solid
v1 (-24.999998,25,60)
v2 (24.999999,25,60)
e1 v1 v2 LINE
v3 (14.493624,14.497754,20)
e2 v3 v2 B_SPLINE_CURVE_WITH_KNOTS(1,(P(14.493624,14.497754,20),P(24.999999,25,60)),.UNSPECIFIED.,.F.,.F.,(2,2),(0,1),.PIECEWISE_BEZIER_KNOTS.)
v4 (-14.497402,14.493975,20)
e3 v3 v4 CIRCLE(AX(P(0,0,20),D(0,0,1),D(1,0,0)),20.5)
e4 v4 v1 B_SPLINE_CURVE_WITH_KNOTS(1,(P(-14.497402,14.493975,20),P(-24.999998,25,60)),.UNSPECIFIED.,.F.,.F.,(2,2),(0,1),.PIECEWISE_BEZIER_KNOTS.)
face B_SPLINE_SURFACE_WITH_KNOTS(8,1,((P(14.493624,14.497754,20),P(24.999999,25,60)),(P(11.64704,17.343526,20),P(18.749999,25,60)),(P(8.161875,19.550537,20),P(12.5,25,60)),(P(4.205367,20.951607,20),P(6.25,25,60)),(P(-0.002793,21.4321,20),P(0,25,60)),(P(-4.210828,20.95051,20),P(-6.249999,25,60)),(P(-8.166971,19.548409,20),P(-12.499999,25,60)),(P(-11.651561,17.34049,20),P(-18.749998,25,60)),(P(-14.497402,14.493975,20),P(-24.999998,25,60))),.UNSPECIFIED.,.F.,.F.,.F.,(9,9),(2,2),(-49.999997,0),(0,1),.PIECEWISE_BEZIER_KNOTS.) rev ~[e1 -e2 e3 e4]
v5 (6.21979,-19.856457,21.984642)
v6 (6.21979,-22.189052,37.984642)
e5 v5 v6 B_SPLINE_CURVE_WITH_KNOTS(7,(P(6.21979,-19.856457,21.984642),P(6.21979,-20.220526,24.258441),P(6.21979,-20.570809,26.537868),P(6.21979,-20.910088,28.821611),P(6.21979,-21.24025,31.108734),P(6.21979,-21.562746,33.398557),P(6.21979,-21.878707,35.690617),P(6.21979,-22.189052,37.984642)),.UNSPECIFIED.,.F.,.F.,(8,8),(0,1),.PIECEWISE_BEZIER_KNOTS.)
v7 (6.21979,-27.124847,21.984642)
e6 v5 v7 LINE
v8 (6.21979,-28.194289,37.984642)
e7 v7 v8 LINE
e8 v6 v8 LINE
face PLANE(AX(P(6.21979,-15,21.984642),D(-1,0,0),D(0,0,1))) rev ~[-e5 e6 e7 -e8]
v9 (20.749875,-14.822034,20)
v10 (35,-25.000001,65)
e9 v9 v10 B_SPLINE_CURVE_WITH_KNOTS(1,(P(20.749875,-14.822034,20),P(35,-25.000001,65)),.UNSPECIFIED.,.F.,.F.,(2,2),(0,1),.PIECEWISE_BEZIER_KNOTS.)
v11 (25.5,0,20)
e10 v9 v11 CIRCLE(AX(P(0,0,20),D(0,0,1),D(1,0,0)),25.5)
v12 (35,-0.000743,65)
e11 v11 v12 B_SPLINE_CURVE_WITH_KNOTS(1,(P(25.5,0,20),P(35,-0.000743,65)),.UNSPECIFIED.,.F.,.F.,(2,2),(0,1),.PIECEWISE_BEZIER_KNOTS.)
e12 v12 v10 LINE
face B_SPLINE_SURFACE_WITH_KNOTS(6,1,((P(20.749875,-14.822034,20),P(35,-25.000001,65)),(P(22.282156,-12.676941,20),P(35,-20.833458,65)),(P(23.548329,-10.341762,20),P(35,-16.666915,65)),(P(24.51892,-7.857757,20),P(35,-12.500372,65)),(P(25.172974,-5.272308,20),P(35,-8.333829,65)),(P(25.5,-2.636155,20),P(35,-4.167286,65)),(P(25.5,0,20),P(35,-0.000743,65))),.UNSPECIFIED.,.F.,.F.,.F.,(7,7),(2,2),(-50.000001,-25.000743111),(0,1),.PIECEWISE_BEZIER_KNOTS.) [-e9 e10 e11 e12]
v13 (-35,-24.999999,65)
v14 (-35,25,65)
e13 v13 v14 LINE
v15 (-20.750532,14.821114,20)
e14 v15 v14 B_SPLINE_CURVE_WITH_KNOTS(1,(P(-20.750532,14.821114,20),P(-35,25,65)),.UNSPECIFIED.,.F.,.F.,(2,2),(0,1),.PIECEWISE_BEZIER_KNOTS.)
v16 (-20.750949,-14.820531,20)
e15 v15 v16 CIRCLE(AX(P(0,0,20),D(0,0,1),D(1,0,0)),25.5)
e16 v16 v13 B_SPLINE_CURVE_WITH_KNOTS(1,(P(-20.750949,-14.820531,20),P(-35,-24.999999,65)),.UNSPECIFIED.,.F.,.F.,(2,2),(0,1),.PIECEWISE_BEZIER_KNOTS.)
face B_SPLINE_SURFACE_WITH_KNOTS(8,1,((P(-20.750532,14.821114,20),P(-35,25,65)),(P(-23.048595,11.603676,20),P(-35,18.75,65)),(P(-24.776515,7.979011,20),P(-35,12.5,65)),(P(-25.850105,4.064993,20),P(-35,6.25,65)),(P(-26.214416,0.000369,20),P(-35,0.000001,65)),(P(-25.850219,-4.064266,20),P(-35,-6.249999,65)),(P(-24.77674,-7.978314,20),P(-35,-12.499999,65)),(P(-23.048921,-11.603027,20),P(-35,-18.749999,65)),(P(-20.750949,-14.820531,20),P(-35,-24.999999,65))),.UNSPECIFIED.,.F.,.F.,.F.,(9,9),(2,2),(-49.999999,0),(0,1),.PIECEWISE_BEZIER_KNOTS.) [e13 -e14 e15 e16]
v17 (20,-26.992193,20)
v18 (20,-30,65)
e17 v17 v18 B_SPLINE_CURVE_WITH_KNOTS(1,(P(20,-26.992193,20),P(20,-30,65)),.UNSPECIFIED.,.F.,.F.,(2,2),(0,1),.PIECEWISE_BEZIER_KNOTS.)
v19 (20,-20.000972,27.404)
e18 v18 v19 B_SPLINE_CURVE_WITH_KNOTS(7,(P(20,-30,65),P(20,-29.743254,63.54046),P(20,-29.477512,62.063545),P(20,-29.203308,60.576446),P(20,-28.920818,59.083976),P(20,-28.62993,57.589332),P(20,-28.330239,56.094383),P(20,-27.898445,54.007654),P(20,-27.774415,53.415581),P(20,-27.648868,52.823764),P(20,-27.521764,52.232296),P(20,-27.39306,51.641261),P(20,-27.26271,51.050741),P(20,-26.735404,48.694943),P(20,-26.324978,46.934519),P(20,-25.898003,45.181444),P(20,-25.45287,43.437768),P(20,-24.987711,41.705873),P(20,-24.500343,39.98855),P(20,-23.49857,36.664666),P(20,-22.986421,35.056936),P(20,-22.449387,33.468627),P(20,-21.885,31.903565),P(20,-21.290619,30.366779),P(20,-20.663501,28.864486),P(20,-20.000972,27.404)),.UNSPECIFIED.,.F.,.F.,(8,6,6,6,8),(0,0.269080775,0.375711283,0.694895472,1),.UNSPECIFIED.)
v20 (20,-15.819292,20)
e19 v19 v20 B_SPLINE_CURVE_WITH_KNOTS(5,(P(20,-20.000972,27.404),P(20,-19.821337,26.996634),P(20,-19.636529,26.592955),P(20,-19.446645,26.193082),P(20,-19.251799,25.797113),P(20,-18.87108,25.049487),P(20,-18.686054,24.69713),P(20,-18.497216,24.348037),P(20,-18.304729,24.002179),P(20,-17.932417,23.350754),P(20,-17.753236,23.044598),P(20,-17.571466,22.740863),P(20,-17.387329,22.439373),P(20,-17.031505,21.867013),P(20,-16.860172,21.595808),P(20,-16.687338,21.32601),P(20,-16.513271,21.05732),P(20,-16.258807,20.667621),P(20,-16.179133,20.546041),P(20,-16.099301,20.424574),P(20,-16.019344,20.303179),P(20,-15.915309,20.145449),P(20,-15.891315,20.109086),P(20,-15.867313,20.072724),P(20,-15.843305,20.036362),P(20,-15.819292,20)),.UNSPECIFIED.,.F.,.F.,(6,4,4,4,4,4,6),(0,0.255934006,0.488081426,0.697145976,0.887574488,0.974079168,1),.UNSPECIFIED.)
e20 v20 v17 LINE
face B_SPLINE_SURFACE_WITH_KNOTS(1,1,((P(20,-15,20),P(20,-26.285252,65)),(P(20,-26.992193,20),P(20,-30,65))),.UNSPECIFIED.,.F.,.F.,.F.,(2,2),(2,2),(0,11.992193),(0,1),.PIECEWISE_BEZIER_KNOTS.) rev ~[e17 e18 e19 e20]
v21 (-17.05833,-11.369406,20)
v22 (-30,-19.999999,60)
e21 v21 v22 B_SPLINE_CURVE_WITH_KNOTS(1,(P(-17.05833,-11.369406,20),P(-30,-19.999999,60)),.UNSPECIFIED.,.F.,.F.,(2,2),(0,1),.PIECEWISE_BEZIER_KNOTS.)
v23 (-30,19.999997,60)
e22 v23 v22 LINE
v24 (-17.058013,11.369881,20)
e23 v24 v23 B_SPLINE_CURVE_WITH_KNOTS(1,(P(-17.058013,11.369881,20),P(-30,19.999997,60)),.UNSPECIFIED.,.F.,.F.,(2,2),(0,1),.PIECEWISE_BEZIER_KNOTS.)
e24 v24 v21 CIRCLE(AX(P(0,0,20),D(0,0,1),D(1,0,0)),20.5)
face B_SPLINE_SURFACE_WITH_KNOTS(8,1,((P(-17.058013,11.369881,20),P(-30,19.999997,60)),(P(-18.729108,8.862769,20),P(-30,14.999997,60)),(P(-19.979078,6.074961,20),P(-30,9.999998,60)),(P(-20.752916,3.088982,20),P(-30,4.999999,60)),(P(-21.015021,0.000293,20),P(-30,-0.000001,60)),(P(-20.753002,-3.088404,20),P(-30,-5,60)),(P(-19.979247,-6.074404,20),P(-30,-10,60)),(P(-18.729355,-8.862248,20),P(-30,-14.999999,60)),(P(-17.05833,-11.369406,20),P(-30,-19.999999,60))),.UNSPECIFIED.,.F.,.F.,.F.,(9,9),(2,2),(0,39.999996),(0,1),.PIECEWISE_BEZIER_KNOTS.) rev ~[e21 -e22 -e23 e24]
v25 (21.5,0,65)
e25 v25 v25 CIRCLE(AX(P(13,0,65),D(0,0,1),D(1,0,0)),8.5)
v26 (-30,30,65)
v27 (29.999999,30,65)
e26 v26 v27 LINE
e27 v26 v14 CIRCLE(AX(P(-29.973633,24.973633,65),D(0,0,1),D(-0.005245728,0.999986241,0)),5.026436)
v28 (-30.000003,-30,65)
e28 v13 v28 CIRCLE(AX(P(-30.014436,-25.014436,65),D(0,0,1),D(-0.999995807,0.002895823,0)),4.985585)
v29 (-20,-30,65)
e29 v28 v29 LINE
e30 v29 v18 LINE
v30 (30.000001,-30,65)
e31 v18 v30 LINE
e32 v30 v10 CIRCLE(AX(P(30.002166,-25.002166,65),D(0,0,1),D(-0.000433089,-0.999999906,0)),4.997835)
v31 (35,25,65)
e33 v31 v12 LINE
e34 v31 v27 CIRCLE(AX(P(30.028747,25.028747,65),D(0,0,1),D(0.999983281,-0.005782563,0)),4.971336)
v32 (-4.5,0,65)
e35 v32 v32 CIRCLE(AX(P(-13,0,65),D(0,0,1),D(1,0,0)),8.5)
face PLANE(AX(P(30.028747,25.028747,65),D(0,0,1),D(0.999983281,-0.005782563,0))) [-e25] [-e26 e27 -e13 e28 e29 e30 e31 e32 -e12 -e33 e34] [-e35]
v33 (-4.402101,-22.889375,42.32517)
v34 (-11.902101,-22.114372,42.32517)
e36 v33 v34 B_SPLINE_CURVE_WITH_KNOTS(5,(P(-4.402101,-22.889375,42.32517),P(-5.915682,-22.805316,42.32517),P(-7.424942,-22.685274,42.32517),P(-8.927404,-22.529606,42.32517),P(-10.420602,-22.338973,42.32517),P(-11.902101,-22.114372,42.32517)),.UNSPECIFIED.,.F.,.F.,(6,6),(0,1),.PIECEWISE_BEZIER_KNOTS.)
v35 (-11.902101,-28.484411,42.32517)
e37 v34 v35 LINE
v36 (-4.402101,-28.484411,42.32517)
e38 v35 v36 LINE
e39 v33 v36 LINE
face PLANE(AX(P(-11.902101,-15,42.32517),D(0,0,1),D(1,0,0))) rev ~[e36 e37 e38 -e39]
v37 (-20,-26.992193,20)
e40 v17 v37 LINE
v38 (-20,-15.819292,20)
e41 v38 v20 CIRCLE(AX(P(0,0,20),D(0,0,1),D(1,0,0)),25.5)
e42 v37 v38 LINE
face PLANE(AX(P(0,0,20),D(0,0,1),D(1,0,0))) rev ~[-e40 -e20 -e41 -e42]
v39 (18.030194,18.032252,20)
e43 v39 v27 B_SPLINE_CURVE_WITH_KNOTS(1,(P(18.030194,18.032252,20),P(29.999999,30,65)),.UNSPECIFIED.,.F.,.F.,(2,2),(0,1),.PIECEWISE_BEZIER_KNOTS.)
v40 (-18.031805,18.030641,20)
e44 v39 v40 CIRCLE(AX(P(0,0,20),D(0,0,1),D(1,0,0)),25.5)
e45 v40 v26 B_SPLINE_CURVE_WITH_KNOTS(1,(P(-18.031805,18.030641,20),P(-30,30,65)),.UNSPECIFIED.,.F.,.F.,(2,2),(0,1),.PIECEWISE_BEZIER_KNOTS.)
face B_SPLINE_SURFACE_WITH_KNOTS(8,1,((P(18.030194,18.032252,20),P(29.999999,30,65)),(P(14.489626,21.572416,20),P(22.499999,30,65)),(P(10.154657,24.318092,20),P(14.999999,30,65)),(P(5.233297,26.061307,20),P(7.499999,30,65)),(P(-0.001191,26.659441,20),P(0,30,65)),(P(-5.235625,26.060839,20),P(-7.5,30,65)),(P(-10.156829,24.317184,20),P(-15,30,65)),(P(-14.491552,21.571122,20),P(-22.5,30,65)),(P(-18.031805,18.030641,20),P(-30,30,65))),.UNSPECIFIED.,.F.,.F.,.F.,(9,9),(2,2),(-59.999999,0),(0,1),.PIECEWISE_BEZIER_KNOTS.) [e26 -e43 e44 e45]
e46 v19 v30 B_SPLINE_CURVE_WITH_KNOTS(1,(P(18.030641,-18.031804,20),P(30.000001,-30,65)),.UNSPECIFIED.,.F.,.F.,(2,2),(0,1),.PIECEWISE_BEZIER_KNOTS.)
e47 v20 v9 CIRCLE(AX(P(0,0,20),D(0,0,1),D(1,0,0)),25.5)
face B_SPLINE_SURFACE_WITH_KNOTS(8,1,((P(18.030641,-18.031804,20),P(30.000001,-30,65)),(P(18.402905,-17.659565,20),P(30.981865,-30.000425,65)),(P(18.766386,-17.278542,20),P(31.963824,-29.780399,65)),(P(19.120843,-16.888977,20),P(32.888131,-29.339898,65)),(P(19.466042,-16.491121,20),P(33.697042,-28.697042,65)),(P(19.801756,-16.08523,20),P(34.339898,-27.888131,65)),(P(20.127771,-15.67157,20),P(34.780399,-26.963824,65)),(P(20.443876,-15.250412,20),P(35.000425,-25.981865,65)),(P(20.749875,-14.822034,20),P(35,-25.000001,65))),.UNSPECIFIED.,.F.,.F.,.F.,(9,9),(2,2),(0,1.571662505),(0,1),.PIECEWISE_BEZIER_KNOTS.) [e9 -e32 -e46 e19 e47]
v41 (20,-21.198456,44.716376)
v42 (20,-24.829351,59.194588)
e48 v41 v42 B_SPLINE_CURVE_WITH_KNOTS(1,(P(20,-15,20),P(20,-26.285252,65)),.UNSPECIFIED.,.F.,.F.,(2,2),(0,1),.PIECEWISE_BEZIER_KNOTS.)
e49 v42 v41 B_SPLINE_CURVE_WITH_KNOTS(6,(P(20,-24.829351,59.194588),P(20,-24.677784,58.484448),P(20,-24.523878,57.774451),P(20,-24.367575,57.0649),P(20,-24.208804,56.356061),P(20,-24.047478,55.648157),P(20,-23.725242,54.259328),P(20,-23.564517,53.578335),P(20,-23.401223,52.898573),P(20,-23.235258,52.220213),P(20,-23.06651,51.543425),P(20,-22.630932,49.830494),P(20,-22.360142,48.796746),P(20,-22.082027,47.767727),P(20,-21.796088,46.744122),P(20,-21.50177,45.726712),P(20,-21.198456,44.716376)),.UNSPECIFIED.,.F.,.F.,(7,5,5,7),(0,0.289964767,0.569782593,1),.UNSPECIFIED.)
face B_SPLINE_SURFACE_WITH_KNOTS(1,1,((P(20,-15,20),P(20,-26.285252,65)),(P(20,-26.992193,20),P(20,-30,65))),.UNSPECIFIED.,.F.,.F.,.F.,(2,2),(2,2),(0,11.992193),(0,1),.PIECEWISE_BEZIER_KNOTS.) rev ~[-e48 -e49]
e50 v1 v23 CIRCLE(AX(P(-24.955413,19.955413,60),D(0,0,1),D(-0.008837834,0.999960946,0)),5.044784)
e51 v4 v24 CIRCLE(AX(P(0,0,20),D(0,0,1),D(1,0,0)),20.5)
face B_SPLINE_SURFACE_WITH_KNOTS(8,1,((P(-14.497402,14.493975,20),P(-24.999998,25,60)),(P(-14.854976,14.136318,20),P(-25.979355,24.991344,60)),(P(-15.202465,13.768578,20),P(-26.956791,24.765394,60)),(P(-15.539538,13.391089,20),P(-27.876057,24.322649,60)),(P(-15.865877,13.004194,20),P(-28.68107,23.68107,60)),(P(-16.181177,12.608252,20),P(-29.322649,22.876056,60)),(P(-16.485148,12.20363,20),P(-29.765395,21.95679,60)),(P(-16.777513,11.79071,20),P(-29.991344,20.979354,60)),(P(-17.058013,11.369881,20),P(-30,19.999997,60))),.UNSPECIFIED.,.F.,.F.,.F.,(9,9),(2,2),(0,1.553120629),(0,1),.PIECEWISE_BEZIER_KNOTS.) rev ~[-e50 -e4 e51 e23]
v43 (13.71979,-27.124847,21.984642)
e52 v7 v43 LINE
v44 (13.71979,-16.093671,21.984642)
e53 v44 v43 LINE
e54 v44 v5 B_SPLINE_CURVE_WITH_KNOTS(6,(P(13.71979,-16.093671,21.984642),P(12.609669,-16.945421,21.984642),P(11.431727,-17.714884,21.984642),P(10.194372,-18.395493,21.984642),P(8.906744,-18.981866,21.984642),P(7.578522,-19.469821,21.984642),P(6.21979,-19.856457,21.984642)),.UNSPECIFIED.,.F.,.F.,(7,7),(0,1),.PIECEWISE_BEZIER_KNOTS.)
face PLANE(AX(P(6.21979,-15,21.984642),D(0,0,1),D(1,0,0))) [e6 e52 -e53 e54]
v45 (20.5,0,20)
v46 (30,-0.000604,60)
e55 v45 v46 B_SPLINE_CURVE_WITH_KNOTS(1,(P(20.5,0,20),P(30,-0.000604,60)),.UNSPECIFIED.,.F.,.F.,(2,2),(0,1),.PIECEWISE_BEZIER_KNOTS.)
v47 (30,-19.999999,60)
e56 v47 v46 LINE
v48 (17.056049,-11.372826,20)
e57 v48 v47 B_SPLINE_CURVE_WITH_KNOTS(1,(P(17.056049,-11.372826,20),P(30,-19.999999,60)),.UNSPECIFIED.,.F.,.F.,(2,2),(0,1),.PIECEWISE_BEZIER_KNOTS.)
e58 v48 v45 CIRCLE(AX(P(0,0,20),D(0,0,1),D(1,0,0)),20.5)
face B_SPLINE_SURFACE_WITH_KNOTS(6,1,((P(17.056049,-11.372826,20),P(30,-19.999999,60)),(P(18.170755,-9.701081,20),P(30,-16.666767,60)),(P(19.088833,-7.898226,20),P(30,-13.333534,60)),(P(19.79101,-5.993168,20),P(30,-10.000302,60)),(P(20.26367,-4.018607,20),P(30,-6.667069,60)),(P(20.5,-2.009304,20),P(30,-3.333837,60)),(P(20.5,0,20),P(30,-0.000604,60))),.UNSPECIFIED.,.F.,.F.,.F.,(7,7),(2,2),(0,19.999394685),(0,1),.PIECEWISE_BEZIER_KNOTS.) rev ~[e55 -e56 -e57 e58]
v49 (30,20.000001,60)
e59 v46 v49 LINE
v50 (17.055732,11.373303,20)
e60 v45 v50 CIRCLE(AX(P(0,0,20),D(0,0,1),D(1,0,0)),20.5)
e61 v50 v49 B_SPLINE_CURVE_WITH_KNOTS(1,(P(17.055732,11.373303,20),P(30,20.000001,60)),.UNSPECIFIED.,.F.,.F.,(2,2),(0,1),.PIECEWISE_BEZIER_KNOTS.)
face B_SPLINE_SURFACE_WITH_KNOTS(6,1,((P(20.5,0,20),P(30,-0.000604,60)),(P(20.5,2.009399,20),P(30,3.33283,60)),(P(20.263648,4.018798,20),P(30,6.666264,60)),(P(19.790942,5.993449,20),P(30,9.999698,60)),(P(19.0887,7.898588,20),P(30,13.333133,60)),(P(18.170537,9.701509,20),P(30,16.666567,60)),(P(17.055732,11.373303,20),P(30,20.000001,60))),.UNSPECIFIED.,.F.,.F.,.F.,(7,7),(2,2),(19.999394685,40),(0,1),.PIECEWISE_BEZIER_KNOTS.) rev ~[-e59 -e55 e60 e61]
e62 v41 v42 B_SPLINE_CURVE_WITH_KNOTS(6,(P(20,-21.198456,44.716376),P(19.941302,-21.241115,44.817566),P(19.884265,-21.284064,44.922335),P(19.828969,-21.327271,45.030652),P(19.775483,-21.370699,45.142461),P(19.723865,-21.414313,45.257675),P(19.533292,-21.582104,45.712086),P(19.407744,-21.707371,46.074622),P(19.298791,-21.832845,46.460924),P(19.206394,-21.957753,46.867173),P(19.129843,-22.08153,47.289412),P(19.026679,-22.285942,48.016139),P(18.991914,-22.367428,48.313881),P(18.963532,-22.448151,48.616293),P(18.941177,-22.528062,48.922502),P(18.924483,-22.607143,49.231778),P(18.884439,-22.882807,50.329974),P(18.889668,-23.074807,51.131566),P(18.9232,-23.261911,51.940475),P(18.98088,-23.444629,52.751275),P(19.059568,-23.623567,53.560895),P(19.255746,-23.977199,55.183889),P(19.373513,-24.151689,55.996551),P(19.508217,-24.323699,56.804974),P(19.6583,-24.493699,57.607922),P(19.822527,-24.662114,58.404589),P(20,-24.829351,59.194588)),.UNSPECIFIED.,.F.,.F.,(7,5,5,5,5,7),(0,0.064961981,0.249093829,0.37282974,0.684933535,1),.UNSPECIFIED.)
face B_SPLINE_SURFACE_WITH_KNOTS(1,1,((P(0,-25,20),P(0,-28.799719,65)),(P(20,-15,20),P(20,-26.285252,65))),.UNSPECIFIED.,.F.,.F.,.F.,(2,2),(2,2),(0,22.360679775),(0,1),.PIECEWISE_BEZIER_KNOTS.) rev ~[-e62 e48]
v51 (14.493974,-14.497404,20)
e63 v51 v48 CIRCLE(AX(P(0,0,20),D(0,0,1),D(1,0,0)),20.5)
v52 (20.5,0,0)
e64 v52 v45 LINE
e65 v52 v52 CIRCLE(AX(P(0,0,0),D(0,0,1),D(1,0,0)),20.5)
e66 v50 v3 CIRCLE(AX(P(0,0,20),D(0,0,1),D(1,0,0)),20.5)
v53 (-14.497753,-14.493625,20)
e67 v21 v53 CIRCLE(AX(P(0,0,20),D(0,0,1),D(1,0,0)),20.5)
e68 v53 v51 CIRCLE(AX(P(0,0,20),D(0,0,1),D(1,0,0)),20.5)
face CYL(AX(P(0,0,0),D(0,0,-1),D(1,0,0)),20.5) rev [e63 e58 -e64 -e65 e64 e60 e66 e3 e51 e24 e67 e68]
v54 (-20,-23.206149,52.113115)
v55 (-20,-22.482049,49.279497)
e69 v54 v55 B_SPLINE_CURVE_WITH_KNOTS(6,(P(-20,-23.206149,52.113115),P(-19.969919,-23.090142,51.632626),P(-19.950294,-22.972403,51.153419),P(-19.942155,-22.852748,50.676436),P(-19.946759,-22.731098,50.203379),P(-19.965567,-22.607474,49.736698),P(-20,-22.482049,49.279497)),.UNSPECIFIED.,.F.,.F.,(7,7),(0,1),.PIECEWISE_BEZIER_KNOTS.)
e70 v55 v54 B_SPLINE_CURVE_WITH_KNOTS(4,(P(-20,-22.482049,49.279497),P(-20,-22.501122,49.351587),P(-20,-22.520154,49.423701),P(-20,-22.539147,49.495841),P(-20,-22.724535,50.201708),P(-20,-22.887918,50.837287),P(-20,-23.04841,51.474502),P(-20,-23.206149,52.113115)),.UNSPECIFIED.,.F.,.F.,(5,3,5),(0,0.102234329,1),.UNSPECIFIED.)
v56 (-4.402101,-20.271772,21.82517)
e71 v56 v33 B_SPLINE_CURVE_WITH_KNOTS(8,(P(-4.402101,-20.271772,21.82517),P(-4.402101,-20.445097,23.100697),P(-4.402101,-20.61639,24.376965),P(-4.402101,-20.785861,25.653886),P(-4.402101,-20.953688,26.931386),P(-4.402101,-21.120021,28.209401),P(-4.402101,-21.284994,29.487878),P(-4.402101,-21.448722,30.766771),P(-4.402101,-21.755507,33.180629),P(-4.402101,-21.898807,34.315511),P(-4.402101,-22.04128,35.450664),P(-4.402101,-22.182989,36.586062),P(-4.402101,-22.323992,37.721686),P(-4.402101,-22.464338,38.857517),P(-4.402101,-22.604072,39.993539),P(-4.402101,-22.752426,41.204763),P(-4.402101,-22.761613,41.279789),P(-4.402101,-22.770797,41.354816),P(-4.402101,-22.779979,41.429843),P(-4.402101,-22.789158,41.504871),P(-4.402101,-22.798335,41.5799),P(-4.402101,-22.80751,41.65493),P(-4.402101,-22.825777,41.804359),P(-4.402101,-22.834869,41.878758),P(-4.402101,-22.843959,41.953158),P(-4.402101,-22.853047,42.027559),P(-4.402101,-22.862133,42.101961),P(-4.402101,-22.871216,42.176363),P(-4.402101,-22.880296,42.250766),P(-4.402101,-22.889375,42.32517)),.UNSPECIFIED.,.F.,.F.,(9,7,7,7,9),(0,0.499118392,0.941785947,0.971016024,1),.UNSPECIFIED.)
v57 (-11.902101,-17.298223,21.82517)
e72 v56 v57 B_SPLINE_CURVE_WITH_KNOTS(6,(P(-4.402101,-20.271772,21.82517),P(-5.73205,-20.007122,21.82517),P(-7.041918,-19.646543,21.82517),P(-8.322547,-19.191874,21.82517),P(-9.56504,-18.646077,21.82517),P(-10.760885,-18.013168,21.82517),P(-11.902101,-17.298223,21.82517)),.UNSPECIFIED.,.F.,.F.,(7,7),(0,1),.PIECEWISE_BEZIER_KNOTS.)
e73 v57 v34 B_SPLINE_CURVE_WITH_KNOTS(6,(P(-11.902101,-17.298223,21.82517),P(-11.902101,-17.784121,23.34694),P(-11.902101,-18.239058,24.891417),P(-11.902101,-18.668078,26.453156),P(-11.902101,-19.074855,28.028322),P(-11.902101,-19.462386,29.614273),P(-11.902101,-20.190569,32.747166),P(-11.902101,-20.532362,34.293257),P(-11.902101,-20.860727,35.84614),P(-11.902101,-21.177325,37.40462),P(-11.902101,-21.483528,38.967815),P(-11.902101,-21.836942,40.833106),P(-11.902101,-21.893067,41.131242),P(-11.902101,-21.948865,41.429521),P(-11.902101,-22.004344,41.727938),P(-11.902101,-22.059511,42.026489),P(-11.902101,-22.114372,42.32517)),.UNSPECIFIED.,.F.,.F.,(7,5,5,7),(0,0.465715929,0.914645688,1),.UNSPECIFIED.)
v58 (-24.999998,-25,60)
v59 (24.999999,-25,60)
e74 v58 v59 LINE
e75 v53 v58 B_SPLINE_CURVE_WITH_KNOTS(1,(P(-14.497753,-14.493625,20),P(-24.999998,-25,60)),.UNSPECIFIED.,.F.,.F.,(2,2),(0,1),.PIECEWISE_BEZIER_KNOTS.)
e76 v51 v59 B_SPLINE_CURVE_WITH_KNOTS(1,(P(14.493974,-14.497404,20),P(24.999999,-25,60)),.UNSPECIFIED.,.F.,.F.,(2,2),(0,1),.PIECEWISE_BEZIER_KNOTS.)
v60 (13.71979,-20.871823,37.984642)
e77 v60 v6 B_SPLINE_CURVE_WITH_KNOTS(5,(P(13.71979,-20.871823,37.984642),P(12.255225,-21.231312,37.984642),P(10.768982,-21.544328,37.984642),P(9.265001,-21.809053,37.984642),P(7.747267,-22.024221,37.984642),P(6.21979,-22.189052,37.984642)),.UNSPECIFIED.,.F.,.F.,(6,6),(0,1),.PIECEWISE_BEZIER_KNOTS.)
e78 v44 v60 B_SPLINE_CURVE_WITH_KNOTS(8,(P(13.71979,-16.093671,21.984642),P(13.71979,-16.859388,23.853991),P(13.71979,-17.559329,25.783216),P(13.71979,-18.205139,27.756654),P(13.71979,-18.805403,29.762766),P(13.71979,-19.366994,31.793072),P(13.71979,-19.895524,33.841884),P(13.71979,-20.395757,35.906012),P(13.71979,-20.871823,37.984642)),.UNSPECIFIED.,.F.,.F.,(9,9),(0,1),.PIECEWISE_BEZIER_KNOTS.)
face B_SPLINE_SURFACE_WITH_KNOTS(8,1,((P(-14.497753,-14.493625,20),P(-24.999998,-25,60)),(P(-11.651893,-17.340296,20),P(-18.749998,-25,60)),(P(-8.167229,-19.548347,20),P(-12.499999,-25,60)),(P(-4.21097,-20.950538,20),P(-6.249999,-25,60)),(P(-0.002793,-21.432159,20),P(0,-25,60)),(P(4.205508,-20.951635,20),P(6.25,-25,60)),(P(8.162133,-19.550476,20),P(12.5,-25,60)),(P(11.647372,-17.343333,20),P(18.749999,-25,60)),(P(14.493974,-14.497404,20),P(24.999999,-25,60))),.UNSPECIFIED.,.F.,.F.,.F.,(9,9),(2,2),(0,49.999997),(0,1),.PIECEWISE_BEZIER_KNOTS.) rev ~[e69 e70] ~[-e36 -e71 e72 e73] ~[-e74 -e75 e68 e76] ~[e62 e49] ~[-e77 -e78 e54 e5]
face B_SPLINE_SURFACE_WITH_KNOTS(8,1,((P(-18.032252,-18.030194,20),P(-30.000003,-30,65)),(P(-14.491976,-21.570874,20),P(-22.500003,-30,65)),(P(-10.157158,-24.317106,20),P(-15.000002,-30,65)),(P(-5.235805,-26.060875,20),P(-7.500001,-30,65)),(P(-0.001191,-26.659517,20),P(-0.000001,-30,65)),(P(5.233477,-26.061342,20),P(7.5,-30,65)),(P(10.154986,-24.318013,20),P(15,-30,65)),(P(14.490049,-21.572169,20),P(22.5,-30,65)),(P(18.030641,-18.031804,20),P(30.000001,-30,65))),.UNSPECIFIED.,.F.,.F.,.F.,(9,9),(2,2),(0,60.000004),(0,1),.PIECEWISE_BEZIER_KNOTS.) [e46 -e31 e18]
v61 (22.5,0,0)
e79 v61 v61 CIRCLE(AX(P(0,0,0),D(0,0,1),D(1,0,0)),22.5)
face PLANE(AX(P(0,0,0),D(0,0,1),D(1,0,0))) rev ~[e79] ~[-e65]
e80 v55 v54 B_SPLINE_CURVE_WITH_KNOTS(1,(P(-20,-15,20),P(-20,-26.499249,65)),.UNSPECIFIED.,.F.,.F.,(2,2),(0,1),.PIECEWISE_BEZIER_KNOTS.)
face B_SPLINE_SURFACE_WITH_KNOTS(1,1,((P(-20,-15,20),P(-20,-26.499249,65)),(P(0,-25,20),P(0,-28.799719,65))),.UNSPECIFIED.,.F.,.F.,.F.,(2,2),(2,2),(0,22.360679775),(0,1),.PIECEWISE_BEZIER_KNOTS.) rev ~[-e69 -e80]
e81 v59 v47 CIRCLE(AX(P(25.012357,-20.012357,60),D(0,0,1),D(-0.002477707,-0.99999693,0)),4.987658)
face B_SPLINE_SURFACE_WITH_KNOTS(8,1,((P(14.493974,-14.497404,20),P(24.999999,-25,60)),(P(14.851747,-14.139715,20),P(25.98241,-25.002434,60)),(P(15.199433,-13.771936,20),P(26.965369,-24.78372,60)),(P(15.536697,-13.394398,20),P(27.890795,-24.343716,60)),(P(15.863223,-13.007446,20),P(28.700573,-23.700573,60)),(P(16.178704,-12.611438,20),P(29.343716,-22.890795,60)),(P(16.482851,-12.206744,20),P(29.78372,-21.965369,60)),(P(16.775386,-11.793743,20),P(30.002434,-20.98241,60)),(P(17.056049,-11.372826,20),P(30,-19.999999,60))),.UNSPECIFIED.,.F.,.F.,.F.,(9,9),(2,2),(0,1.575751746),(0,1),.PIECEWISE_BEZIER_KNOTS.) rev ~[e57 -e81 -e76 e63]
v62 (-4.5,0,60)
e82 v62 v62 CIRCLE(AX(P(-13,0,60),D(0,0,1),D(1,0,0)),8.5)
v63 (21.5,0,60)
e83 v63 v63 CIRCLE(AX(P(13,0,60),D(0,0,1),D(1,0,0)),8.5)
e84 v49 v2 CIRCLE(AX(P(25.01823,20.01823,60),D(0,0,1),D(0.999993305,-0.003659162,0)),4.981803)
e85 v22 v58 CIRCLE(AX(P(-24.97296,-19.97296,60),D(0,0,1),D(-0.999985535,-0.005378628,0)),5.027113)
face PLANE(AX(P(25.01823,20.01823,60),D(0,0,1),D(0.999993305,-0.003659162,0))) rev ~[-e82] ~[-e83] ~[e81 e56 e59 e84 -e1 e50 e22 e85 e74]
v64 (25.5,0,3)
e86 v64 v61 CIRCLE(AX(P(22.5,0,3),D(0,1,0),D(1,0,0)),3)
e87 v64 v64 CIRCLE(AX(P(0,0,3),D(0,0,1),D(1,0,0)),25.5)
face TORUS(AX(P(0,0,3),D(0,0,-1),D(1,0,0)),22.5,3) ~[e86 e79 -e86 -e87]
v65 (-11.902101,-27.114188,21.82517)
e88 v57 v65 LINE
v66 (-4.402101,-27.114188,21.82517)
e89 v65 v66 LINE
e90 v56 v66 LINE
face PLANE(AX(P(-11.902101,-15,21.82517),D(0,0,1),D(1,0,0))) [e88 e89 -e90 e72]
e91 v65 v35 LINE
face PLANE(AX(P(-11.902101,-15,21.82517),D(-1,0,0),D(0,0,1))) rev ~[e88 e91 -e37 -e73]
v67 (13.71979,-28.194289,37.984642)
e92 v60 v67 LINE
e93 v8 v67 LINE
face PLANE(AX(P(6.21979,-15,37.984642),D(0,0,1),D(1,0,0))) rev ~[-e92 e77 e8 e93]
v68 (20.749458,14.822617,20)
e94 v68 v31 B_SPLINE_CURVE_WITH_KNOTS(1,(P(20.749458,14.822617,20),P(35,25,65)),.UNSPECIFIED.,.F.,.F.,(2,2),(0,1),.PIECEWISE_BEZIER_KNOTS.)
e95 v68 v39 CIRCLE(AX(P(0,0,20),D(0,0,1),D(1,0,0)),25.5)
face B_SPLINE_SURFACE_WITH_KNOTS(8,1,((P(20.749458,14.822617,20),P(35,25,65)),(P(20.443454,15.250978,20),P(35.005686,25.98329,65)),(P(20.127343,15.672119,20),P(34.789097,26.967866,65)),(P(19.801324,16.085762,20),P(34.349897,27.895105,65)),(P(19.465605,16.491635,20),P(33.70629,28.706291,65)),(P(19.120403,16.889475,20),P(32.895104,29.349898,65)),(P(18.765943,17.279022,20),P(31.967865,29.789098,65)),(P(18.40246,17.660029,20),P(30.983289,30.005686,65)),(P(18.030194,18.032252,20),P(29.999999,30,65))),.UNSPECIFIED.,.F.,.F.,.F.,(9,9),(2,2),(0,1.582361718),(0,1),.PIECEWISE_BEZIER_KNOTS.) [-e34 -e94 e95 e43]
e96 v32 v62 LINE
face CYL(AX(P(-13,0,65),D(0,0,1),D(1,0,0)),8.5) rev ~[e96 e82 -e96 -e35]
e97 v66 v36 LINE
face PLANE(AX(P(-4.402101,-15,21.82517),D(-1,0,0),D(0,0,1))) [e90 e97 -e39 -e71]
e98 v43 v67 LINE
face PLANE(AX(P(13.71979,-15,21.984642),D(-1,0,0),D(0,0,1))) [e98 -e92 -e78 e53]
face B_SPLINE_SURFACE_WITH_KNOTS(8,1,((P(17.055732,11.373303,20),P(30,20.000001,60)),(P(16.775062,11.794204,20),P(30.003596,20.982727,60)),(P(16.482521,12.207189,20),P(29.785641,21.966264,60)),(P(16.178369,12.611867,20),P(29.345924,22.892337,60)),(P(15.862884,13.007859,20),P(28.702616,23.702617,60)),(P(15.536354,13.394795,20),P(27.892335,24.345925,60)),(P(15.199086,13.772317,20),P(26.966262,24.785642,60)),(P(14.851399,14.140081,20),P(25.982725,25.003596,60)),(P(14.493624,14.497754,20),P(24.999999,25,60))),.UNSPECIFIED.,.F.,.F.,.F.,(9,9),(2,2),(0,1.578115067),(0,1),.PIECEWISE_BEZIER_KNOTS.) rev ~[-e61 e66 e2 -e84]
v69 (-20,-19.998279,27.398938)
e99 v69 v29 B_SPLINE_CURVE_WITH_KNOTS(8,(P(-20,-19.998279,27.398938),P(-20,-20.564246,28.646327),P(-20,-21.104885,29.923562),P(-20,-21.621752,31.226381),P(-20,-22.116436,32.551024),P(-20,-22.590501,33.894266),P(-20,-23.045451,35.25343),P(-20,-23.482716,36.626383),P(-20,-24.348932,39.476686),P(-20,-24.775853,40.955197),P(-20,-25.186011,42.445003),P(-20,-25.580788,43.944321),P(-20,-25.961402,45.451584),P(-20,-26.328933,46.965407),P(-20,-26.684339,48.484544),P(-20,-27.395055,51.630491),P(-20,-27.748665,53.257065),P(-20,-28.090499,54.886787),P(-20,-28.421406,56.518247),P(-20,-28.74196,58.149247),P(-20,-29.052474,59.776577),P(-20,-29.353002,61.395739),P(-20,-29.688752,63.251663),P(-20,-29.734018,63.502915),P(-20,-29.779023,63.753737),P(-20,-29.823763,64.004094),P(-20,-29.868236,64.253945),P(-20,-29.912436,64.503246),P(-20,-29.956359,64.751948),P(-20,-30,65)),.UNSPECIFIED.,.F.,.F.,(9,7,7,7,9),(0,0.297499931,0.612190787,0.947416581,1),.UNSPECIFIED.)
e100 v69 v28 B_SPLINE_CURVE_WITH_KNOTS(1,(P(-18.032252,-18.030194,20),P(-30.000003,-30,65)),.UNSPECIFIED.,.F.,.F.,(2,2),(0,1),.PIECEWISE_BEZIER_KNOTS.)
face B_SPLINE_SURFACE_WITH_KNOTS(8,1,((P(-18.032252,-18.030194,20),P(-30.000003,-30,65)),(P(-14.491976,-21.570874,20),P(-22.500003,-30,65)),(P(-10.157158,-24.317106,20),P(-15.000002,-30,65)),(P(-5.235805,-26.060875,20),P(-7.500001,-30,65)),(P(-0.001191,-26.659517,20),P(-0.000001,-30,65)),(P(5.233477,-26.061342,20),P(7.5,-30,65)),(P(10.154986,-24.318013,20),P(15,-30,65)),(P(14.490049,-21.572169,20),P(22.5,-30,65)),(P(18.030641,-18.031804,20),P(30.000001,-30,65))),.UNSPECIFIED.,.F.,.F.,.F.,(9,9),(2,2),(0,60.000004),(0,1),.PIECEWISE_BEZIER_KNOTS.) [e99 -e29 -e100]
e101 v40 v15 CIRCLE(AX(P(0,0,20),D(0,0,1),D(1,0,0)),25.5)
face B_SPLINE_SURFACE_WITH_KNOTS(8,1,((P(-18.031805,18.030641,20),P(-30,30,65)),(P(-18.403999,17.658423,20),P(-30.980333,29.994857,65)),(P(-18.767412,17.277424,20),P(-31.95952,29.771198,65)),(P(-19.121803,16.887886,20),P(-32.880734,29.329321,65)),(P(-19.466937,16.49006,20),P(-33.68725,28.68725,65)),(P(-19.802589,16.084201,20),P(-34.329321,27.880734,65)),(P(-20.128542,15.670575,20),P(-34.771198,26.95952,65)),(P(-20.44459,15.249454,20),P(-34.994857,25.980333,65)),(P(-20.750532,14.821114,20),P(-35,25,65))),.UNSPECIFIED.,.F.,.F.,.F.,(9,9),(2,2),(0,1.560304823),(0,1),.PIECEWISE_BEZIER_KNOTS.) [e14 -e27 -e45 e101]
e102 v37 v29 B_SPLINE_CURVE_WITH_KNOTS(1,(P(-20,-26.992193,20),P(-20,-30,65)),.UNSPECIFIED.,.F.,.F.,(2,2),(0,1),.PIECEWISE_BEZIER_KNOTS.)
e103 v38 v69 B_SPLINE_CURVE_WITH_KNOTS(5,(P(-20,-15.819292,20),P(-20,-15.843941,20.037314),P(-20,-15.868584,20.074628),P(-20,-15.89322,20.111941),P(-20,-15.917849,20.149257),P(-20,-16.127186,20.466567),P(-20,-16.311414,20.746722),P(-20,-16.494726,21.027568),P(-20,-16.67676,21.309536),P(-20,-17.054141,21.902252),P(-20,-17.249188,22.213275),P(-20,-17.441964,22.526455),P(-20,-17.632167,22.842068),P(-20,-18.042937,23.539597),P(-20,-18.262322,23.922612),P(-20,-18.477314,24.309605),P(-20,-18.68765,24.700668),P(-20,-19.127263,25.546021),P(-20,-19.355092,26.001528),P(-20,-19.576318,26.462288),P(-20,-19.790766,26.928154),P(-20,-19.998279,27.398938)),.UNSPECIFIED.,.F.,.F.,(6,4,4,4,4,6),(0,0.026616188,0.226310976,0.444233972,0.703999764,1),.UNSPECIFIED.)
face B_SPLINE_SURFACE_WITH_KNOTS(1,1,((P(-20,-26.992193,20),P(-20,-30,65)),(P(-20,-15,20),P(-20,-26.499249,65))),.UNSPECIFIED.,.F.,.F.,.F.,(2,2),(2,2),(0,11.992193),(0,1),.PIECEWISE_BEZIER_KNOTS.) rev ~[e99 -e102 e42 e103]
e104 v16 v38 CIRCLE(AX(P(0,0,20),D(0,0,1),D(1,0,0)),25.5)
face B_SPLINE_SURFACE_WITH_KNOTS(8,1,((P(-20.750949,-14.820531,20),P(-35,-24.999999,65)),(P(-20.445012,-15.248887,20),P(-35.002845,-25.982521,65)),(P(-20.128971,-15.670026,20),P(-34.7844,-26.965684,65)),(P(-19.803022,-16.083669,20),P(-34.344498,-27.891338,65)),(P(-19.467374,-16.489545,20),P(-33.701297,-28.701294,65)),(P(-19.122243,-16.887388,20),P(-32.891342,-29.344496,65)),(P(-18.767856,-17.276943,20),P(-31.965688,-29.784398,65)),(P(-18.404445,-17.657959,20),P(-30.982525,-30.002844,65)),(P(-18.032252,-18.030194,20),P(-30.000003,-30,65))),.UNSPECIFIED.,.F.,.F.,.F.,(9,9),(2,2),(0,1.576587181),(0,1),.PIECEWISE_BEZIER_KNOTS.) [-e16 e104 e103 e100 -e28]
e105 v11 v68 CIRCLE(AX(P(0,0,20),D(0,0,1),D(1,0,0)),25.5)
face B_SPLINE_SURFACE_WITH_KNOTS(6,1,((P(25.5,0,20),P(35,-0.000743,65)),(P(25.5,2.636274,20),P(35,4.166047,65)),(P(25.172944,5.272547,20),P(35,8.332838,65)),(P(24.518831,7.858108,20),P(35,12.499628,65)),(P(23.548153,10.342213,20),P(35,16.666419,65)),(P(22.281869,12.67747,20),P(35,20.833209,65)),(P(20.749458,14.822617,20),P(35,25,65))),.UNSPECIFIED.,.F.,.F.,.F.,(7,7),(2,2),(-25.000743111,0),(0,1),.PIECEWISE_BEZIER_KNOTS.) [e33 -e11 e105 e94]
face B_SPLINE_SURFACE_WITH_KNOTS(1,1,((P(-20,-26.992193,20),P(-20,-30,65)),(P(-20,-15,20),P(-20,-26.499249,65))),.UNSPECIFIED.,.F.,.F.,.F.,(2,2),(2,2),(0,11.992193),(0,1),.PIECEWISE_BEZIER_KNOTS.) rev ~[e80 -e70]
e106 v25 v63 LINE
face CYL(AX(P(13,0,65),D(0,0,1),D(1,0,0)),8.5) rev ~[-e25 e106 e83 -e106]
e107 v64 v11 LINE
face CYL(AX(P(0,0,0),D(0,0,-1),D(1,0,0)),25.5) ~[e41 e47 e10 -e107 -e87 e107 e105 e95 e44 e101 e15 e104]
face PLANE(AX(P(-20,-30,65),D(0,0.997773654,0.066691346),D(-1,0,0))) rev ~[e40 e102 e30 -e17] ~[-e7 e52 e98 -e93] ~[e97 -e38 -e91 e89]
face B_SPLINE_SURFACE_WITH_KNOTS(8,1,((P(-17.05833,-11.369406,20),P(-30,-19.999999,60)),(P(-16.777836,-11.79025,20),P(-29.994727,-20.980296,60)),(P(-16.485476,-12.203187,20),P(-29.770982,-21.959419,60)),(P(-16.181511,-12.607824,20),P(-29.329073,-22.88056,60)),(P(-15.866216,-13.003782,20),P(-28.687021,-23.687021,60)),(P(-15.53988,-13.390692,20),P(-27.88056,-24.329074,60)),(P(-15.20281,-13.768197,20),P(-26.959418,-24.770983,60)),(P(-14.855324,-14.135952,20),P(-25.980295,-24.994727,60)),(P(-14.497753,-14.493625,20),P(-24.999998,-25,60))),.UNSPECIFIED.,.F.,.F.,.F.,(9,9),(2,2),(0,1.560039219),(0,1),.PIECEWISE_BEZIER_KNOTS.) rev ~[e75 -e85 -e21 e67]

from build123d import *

# Parameters (mm, degrees)
SKETCH005_AS_DRAWN_W              = 7.5
SKETCH005_AS_DRAWN_H              = 20.5
SKETCH005_AS_DRAWN_H_2            = 16
EXTRUDE_DEPTH                     = 30
EXTRUDE_ONTO_SKETCH005_ROLL_ANGLE = 90
SKETCH_R                          = 20.5
SKETCH003_R                       = 25.5
SKETCH004_R                       = 8.5
POCKET_DEPTH                      = 5
CYLINDER001_R                     = 20.5
CYLINDER001_DEPTH                 = 20
CYLINDER_R                        = 25.5
CYLINDER_DEPTH                    = 20
FILLET_R                          = 3


with BuildPart() as butoane:
    # Sketch005 as drawn → Extrude (new)
    with BuildSketch(Plane.XY):
        with Locations((-8.152101, 32.07517)):
            Rectangle(SKETCH005_AS_DRAWN_W, SKETCH005_AS_DRAWN_H)
        with Locations((9.96979, 29.984642)):
            Rectangle(SKETCH005_AS_DRAWN_W, SKETCH005_AS_DRAWN_H_2)
    extrude(amount=EXTRUDE_DEPTH)


with BuildPart() as butoane_1:
    # Extrude onto Sketch005 roll: moved
    add(butoane.part.rotate(Axis((0, 0, 0), (1, 0, 0)), EXTRUDE_ONTO_SKETCH005_ROLL_ANGLE))


with BuildPart() as butoane_2:
    # Extrude onto Sketch005 placement: moved
    add(butoane_1.part.moved(Location((0, -15, 0))))


with BuildPart() as loft_body:
    # Sketch → Loft section 0
    with BuildSketch(Plane.XY.offset(20)):
        Circle(SKETCH_R)
    # Sketch002 → Loft section 1
    with BuildSketch(Plane.XY.offset(60)):
        with BuildLine():
            Line((-24.999998, 25), (24.999999, 25))
            ThreePointArc((30, 20.000001), (28.540896, 23.540898), (24.999999, 25))
            Line((30, -19.999999), (30, 20.000001))
            ThreePointArc((24.999999, -25), (28.539164, -23.539164), (30, -19.999999))
            Line((-24.999998, -25), (24.999999, -25))
            ThreePointArc((-30, -19.999999), (-28.527665, -23.527666), (-24.999998, -25))
            Line((-30, 19.999997), (-30, -19.999999))
            ThreePointArc((-24.999998, 25), (-28.522614, 23.522614), (-30, 19.999997))
        make_face()
    loft()


with BuildPart() as pocket:
    # Sketch003 → Loft001 section 0
    with BuildSketch(Plane.XY.offset(20)):
        Circle(SKETCH003_R)
    # Sketch001 → Loft001 section 1
    with BuildSketch(Plane.XY.offset(65)):
        with BuildLine():
            Line((-35, -24.999999), (-35, 25))
            ThreePointArc((-30, 30), (-33.52786, 28.52786), (-35, 25))
            Line((-30, 30), (29.999999, 30))
            ThreePointArc((35, 25), (33.544012, 28.544013), (29.999999, 30))
            Line((35, 25), (35, -25.000001))
            ThreePointArc((30.000001, -30), (33.536169, -28.536168), (35, -25.000001))
            Line((-30.000003, -30), (30.000001, -30))
            ThreePointArc((-35, -24.999999), (-33.539778, -28.539776), (-30.000003, -30))
        make_face()
    loft()

    # Cut001: cut Loft body
    add(loft_body.part, mode=Mode.SUBTRACT)

    # Sketch004 → Pocket (cut)
    with BuildSketch(Plane.XY.offset(65)):
        with Locations((-13, 0)):
            Circle(SKETCH004_R)
        with Locations((13, 0)):
            Circle(SKETCH004_R)
    extrude(amount=-POCKET_DEPTH, mode=Mode.SUBTRACT)


with BuildPart() as cut002:
    # Sketch006 → Loft002 section 0
    with BuildSketch(Plane.XY.offset(20)):
        Polygon((20, -15), (20, -26.992193), (-20, -26.992193), (-20, -15), (0, -25), align=None)
    # Sketch007 → Loft002 section 1
    with BuildSketch(Plane.XY.offset(65)):
        Polygon((-20, -30), (20, -30), (20, -26.285252), (0, -28.799719), (-20, -26.499249), align=None)
    loft()

    # Fusion: union Pocket
    add(pocket.part)

    # Cut002: cut Butoane
    add(butoane_2.part, mode=Mode.SUBTRACT)


with BuildPart() as cilindru001:
    # Cylinder001 → Cylinder001 (new body)
    with BuildSketch(Plane.XY):
        Circle(CYLINDER001_R)
    extrude(amount=CYLINDER001_DEPTH)


with BuildPart() as fusion001:
    # Cylinder → Cylinder (new body)
    with BuildSketch(Plane.XY):
        Circle(CYLINDER_R)
    extrude(amount=CYLINDER_DEPTH)

    # Cut: cut Cilindru001
    add(cilindru001.part, mode=Mode.SUBTRACT)

    # Fillet
    fillet_edges = [fusion001.edges().sort_by_distance(p)[0] for p in [
        (-25.5, 0, 0),
    ]]
    fillet(fillet_edges, radius=FILLET_R)

    # Fusion001: union Cut002
    add(cut002.part)


solid = fusion001.part
